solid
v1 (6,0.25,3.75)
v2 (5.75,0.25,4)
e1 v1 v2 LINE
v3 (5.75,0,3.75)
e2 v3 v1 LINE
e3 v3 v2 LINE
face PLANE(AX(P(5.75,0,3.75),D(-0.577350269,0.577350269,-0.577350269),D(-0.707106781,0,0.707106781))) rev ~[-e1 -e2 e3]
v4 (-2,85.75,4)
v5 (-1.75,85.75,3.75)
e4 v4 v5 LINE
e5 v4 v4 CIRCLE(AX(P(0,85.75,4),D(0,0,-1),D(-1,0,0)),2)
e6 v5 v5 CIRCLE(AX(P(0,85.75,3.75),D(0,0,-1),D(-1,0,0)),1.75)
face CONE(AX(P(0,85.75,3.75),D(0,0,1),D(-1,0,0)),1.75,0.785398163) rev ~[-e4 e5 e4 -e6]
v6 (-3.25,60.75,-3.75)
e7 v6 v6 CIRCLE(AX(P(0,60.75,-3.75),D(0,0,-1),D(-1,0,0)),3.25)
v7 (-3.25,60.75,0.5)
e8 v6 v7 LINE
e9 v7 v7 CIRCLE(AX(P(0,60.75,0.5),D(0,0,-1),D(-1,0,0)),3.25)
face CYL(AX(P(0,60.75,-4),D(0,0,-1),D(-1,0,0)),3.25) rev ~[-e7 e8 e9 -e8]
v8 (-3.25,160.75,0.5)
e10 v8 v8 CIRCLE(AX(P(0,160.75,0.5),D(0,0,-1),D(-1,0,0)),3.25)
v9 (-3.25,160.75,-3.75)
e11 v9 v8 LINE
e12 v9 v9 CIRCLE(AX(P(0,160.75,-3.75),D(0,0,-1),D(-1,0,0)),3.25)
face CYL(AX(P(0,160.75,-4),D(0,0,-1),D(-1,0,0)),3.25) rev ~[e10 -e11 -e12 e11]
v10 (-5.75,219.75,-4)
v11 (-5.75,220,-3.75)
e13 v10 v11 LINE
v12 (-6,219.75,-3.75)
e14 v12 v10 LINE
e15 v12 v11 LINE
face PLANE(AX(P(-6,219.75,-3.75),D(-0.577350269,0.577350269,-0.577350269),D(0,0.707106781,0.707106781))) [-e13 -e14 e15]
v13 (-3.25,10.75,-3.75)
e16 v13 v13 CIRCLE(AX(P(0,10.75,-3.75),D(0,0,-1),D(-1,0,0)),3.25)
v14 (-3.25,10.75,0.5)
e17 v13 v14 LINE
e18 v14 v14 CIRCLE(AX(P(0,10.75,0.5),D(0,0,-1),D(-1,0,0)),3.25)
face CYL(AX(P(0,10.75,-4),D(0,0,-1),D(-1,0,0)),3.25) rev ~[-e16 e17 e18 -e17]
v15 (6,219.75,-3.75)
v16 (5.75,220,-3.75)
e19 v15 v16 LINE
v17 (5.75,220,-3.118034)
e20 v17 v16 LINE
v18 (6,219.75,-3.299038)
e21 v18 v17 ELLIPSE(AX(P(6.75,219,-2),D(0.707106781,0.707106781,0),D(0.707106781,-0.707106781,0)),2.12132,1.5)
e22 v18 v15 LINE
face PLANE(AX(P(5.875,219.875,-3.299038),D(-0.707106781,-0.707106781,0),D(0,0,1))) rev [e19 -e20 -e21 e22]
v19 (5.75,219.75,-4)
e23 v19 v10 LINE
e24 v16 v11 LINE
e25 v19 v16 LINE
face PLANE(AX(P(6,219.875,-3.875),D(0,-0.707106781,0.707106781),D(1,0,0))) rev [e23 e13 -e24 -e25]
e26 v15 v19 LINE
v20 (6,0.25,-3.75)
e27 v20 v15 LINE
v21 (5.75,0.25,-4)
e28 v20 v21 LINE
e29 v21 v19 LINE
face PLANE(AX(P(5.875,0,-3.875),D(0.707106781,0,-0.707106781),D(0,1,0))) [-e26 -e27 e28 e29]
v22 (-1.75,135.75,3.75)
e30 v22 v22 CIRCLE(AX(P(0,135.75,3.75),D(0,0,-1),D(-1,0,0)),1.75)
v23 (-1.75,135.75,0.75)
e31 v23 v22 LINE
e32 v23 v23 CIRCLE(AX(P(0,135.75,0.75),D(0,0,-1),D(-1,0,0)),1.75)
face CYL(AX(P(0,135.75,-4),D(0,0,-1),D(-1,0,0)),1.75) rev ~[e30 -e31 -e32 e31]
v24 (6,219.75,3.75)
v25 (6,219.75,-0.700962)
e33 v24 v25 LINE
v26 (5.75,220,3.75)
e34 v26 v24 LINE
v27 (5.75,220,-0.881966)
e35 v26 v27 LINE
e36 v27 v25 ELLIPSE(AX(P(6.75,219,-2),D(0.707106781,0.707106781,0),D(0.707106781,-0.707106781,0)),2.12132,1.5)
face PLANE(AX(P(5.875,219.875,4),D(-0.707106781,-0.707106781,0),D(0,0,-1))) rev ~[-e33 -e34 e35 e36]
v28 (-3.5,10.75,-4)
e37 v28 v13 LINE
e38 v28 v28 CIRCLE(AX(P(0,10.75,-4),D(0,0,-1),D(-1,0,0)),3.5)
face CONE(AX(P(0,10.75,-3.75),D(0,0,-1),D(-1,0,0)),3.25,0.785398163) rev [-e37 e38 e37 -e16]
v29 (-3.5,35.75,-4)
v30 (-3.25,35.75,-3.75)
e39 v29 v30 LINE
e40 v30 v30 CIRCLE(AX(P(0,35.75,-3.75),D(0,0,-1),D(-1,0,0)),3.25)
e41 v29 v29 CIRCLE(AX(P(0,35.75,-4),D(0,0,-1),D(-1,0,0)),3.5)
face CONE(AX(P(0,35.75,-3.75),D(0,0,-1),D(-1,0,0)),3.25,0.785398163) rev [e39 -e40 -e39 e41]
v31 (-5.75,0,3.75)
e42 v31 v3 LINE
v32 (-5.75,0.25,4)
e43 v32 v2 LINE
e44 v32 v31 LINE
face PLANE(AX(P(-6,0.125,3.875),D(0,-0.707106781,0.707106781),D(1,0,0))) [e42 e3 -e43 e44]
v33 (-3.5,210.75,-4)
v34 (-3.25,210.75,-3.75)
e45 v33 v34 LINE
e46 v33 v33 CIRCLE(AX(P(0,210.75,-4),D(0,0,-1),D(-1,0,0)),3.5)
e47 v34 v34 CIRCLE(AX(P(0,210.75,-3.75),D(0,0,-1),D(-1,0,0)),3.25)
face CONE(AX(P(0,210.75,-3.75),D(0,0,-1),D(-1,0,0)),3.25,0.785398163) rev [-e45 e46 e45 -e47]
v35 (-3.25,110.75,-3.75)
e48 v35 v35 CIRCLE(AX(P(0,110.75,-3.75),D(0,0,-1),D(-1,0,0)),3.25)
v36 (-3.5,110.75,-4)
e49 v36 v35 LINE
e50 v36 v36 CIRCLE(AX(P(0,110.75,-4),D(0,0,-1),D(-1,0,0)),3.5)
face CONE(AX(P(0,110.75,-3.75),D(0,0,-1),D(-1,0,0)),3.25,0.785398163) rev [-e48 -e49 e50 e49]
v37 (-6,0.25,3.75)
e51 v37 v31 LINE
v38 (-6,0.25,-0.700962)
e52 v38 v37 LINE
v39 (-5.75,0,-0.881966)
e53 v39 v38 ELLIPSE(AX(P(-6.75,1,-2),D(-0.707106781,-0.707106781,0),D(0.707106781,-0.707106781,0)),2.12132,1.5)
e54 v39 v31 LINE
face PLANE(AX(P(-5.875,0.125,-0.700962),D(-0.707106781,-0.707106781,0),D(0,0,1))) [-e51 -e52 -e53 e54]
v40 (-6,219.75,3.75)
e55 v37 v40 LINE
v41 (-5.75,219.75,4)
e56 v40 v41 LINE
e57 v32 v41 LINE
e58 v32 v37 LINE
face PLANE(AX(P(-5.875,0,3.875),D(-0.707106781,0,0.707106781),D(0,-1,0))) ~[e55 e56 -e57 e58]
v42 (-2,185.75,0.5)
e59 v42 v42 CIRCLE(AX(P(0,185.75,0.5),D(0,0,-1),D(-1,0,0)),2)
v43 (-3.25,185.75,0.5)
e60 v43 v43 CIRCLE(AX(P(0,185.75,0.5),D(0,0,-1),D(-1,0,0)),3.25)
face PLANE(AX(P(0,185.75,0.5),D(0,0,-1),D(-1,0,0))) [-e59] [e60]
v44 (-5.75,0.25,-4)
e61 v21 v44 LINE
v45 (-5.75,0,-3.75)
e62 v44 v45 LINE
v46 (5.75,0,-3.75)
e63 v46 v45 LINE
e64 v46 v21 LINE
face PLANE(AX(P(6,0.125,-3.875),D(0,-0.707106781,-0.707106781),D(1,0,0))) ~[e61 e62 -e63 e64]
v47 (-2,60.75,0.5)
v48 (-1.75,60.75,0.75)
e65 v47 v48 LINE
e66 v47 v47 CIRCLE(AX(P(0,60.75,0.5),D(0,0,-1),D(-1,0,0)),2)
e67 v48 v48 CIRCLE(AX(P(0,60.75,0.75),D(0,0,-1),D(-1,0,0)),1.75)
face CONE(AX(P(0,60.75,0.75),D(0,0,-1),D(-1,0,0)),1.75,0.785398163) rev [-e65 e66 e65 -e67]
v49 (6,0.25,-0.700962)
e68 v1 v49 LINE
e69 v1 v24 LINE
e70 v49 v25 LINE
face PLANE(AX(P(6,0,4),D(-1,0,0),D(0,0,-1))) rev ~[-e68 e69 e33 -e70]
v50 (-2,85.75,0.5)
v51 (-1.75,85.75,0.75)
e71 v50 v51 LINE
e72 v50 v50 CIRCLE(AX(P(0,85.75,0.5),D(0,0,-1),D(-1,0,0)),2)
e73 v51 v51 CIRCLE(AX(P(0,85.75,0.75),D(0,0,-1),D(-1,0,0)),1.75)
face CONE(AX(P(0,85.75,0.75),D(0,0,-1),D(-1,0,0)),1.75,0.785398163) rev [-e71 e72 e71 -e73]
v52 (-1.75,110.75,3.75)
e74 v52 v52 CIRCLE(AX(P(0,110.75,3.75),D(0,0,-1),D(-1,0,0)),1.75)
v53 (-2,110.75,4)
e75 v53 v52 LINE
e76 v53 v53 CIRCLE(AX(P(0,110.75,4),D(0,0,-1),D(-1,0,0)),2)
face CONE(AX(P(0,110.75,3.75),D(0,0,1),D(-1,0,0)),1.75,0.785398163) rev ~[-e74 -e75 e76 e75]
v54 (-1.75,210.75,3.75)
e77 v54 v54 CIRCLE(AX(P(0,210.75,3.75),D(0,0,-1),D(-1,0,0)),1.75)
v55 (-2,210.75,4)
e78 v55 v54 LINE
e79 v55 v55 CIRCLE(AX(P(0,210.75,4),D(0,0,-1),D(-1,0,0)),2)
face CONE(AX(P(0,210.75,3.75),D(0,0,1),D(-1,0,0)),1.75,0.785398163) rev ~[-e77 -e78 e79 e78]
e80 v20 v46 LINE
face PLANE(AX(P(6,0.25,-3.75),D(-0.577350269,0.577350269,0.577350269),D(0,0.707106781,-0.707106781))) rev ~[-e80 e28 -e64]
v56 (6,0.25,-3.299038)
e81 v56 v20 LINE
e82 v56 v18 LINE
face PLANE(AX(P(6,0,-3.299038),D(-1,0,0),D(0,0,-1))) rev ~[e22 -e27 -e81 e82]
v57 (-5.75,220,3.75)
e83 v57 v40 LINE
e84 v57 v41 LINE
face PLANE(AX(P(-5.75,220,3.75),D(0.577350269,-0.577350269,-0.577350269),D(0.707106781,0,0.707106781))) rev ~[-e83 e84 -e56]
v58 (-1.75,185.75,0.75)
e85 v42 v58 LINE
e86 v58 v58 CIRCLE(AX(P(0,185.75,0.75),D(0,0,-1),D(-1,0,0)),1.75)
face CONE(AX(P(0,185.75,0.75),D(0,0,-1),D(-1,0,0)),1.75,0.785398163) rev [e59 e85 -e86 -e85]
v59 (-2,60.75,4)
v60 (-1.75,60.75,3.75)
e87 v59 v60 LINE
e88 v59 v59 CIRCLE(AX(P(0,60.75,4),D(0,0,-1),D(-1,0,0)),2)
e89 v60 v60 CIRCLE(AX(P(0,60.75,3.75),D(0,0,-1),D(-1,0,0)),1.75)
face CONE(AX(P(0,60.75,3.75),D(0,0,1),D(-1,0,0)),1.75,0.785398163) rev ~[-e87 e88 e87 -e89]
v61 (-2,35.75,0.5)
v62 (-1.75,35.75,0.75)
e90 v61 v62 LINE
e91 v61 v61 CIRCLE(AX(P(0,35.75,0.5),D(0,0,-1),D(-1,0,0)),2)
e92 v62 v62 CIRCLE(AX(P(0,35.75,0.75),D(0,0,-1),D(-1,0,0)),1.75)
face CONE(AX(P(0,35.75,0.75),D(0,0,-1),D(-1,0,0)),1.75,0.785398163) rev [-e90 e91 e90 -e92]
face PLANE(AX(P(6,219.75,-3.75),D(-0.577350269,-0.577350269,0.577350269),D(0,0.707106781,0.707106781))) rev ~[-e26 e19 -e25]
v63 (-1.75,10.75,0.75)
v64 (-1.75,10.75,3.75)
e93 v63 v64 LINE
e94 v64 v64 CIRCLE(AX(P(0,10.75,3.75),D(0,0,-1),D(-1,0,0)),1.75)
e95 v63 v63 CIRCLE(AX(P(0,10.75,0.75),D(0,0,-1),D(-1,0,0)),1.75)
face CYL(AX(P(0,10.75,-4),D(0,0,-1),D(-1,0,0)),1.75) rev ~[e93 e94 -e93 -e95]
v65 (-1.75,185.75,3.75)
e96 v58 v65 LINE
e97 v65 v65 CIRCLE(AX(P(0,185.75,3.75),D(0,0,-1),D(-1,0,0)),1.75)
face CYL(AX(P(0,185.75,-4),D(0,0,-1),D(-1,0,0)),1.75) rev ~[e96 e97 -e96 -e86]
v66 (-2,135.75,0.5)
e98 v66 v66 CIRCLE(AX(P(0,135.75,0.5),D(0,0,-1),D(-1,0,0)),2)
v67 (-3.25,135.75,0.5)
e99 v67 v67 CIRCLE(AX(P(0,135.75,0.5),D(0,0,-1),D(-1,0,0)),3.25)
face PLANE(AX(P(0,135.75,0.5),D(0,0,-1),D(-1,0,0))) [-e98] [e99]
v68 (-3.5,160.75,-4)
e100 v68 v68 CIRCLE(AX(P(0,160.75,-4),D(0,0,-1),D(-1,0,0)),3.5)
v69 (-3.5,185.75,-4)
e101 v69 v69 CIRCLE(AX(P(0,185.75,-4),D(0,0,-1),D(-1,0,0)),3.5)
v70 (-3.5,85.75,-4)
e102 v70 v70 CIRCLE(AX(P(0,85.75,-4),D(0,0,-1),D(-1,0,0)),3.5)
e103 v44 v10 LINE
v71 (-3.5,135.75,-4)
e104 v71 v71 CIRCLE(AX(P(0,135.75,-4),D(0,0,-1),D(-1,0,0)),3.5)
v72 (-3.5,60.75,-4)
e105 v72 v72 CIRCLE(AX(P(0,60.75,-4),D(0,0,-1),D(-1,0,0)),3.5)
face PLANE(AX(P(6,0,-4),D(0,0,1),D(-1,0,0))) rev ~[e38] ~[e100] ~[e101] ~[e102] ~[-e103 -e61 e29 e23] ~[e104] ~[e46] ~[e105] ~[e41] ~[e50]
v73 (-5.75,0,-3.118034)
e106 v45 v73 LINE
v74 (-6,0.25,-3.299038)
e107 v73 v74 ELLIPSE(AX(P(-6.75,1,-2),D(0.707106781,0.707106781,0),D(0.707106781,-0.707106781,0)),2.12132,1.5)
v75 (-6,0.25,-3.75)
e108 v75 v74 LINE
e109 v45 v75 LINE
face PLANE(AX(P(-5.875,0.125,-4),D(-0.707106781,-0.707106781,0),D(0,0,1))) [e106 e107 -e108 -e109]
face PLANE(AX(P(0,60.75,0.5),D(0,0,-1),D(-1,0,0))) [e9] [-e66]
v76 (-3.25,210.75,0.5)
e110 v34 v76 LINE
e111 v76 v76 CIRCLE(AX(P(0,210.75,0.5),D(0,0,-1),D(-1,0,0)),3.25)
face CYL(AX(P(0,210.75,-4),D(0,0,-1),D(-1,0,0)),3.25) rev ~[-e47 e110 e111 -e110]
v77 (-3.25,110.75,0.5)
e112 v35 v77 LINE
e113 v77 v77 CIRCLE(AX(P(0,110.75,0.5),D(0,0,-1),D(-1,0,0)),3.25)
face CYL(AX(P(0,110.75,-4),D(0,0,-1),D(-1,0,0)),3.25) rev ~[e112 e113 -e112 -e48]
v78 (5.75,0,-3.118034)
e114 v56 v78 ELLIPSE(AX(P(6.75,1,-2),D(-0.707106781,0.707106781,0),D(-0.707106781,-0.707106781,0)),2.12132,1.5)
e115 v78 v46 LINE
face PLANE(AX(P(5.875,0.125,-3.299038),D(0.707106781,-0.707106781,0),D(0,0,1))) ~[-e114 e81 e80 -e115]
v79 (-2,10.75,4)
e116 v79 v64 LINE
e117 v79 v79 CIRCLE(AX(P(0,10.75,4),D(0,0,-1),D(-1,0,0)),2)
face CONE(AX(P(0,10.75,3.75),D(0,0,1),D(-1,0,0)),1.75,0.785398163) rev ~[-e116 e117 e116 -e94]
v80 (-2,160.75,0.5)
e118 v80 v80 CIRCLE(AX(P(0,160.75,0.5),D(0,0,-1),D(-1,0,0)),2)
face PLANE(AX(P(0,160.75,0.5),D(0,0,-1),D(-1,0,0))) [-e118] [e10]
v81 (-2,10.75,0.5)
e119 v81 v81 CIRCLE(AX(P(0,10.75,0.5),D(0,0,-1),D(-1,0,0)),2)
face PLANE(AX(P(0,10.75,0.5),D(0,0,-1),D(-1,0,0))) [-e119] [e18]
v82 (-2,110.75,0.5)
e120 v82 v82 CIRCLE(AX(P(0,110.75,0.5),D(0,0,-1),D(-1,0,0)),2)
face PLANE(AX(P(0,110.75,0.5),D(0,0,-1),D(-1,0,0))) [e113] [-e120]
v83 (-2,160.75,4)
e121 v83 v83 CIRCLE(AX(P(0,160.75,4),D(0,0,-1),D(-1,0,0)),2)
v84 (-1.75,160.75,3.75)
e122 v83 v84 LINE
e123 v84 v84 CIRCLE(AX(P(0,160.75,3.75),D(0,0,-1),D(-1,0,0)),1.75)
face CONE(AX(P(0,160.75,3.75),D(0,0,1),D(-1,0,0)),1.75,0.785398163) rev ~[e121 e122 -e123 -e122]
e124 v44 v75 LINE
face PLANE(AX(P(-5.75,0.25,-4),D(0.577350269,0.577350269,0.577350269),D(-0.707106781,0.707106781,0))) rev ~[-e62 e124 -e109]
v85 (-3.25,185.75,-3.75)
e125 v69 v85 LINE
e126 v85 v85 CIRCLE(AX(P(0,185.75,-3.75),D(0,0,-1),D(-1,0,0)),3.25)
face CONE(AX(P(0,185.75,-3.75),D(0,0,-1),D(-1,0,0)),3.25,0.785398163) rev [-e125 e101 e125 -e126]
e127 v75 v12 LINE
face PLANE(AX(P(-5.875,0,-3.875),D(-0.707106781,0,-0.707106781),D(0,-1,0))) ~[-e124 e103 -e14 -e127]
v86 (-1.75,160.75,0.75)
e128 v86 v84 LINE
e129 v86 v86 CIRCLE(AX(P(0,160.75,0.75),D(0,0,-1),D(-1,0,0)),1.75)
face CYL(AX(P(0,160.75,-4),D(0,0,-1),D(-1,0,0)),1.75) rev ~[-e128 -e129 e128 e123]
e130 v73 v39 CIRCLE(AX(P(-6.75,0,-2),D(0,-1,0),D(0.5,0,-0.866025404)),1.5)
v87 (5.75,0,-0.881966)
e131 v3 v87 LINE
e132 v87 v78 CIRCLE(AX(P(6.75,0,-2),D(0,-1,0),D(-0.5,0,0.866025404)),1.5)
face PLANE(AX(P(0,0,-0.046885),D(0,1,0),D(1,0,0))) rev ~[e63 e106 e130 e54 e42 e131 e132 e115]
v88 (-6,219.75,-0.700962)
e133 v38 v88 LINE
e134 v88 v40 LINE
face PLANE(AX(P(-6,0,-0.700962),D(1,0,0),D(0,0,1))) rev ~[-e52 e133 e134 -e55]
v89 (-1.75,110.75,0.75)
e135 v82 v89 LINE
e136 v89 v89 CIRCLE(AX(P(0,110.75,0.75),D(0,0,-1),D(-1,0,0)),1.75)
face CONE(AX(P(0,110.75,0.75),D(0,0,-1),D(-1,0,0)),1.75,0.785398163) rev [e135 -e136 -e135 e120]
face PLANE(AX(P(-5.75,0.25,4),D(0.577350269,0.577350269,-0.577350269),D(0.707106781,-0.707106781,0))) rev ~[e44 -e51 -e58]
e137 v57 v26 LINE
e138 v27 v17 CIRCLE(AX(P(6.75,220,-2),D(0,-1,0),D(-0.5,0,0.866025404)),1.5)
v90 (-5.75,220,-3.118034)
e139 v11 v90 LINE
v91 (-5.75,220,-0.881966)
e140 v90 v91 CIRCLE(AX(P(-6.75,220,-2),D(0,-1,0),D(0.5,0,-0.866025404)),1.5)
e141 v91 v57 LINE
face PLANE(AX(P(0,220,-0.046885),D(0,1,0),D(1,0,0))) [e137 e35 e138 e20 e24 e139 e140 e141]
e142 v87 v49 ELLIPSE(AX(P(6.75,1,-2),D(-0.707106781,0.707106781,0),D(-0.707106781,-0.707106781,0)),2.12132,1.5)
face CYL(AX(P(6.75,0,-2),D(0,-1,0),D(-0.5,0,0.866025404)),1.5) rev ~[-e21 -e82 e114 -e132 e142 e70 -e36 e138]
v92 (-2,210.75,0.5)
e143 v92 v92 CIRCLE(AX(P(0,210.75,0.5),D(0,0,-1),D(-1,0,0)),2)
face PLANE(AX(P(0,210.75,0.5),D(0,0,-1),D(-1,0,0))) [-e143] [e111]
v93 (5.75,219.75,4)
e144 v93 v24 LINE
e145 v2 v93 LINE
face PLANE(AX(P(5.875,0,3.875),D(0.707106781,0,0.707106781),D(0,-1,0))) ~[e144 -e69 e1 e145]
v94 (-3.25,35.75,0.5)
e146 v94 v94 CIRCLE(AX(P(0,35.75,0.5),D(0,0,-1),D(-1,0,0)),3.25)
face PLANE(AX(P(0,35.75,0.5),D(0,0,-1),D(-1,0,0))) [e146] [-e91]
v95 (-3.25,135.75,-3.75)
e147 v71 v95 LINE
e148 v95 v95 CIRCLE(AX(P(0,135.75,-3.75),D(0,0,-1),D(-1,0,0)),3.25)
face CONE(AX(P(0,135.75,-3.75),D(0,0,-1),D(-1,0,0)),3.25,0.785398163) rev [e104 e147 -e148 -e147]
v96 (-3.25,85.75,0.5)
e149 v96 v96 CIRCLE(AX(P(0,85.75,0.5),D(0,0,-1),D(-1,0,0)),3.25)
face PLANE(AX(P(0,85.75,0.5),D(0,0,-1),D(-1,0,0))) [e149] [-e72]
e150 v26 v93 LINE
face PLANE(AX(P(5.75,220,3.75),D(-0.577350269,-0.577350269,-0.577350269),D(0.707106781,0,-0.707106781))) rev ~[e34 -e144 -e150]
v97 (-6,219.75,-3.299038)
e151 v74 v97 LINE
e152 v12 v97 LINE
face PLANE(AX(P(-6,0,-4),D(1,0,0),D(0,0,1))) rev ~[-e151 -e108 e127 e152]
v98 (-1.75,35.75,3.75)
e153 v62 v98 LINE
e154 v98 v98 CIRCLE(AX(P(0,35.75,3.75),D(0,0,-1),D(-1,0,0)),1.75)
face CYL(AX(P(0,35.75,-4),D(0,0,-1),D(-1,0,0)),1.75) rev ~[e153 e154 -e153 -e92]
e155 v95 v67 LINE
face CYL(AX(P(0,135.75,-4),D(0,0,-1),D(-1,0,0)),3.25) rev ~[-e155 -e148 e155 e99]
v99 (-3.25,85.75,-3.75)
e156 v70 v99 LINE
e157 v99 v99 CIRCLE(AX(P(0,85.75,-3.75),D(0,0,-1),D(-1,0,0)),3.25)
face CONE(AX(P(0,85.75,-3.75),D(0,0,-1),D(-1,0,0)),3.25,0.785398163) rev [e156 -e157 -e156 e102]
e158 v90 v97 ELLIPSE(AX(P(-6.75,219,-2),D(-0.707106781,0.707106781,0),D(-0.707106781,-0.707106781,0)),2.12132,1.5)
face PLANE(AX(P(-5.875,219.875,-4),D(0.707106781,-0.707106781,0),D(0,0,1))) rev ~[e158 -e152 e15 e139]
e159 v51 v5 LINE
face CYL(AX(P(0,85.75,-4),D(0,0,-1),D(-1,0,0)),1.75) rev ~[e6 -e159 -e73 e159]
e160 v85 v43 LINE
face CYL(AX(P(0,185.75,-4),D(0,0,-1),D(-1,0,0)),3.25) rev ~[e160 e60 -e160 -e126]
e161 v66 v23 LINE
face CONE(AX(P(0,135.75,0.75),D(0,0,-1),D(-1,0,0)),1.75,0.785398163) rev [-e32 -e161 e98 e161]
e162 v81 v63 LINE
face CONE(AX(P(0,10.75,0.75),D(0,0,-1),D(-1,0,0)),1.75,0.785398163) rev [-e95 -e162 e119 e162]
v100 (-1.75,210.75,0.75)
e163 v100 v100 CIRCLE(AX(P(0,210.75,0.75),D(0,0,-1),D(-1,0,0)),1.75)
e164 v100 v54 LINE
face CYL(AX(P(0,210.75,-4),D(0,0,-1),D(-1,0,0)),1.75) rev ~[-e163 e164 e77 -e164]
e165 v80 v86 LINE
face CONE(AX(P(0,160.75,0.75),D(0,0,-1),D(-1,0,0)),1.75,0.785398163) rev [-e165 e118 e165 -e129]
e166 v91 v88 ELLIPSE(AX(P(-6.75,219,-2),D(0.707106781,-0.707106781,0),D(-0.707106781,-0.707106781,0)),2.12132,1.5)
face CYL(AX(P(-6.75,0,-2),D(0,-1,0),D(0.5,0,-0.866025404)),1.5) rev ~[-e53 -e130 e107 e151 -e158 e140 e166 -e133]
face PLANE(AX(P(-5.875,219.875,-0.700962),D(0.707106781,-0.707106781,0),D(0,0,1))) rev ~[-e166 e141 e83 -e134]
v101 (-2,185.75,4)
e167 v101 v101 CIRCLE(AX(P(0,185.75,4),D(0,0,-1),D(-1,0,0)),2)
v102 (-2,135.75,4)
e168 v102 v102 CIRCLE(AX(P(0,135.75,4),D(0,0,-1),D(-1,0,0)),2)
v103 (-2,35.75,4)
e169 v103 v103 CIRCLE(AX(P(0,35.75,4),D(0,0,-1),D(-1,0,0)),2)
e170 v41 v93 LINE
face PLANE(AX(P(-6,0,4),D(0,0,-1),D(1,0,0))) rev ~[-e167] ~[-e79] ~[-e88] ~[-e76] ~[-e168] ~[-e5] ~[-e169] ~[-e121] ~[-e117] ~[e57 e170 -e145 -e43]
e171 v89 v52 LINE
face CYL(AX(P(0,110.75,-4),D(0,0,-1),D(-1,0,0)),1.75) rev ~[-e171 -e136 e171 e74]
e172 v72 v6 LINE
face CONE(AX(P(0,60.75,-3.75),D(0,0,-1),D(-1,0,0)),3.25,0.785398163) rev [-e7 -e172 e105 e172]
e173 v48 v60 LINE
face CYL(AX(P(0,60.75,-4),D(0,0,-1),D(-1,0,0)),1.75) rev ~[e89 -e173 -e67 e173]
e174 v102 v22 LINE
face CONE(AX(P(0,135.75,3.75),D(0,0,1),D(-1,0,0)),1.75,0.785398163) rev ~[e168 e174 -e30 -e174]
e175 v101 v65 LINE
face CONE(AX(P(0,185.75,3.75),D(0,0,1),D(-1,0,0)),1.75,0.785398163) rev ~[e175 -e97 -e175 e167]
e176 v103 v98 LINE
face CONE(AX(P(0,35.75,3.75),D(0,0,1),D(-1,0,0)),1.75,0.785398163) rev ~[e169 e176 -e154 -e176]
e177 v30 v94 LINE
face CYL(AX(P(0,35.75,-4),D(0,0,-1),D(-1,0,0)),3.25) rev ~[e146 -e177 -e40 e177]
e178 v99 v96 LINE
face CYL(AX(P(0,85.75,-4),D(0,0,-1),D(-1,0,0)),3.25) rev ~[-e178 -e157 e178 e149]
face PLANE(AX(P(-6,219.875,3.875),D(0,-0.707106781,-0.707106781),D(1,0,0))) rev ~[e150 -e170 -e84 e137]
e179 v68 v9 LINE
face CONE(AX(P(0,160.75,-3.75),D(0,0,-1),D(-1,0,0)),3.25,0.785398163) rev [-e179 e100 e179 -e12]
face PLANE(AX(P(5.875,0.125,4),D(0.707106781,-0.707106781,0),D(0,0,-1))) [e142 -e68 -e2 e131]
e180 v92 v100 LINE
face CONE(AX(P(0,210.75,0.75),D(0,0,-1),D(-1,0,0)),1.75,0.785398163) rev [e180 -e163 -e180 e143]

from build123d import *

# Parameters (mm, degrees)
BOSS_EXTRUDE1_DEPTH = 220
SKETCH3_R           = 1.75
CUT_EXTRUDE3_DEPTH  = 8.5
SKETCH3_6_R         = 3.25
SKETCH3_6_R_2       = 1.75
CUT_EXTRUDE4_DEPTH  = 4.5
CHAMFER3_SIZE       = 0.25


with BuildPart() as part:
    # Sketch1 → Boss-Extrude1 (new body)
    with BuildSketch(Plane(origin=(0, 0, 0), x_dir=(1, 0, 0), z_dir=(0, 1, 0))):
        with BuildLine():
            Line((6, 4), (-6, 4))
            Line((-6, 4), (-6, 3.299038106))
            ThreePointArc((-6, 3.299038106), (-5.25, 2), (-6, 0.700961894))
            Line((-6, 0.700961894), (-6, -4))
            Line((-6, -4), (6, -4))
            Line((6, -4), (6, 0.700961894))
            ThreePointArc((6, 0.700961894), (5.25, 2), (6, 3.299038106))
            Line((6, 3.299038106), (6, 4))
        make_face()
    extrude(amount=BOSS_EXTRUDE1_DEPTH)

    # Sketch3 → Cut-Extrude3 (cut)
    with BuildSketch(Plane(origin=(0, 0, -4), x_dir=(-1, 0, 0), z_dir=(0, 0, -1))):
        with Locations((0, 335.75)):
            Circle(SKETCH3_R)
        with Locations((0, 310.75)):
            Circle(SKETCH3_R)
        with Locations((0, 285.75)):
            Circle(SKETCH3_R)
        with Locations((0, 260.75)):
            Circle(SKETCH3_R)
        with Locations((0, 235.75)):
            Circle(SKETCH3_R)
        with Locations((0, 210.75)):
            Circle(SKETCH3_R)
        with Locations((0, 185.75)):
            Circle(SKETCH3_R)
        with Locations((0, 160.75)):
            Circle(SKETCH3_R)
        with Locations((0, 110.75)):
            Circle(SKETCH3_R)
        with Locations((0, 85.75)):
            Circle(SKETCH3_R)
        with Locations((0, 60.75)):
            Circle(SKETCH3_R)
        with Locations((0, 35.75)):
            Circle(SKETCH3_R)
        with Locations((0, 135.75)):
            Circle(SKETCH3_R)
        with Locations((0, 10.75)):
            Circle(SKETCH3_R)
    extrude(amount=-CUT_EXTRUDE3_DEPTH, mode=Mode.SUBTRACT)

    # Sketch3<6> → Cut-Extrude4 (cut)
    # profile 1 of 14: a face of its own
    with BuildSketch(Plane(origin=(0, 0, -4), x_dir=(-1, 0, 0), z_dir=(0, 0, -1))):
        with Locations((0, 10.75)):
            Circle(SKETCH3_6_R)
        with Locations((0, 10.75)):
            Circle(SKETCH3_6_R_2, mode=Mode.SUBTRACT)
    # profile 2 of 14: a face of its own
    with BuildSketch(Plane(origin=(0, 0, -4), x_dir=(-1, 0, 0), z_dir=(0, 0, -1))):
        with Locations((0, 35.75)):
            Circle(SKETCH3_6_R)
        with Locations((0, 35.75)):
            Circle(SKETCH3_6_R_2, mode=Mode.SUBTRACT)
    # profile 3 of 14: a face of its own
    with BuildSketch(Plane(origin=(0, 0, -4), x_dir=(-1, 0, 0), z_dir=(0, 0, -1))):
        with Locations((0, 60.75)):
            Circle(SKETCH3_6_R)
        with Locations((0, 60.75)):
            Circle(SKETCH3_6_R_2, mode=Mode.SUBTRACT)
    # profile 4 of 14: a face of its own
    with BuildSketch(Plane(origin=(0, 0, -4), x_dir=(-1, 0, 0), z_dir=(0, 0, -1))):
        with Locations((0, 85.75)):
            Circle(SKETCH3_6_R)
        with Locations((0, 85.75)):
            Circle(SKETCH3_6_R_2, mode=Mode.SUBTRACT)
    # profile 5 of 14: a face of its own
    with BuildSketch(Plane(origin=(0, 0, -4), x_dir=(-1, 0, 0), z_dir=(0, 0, -1))):
        with Locations((0, 110.75)):
            Circle(SKETCH3_6_R)
        with Locations((0, 110.75)):
            Circle(SKETCH3_6_R_2, mode=Mode.SUBTRACT)
    # profile 6 of 14: a face of its own
    with BuildSketch(Plane(origin=(0, 0, -4), x_dir=(-1, 0, 0), z_dir=(0, 0, -1))):
        with Locations((0, 135.75)):
            Circle(SKETCH3_6_R)
        with Locations((0, 135.75)):
            Circle(SKETCH3_6_R_2, mode=Mode.SUBTRACT)
    # profile 7 of 14: a face of its own
    with BuildSketch(Plane(origin=(0, 0, -4), x_dir=(-1, 0, 0), z_dir=(0, 0, -1))):
        with Locations((0, 160.75)):
            Circle(SKETCH3_6_R)
        with Locations((0, 160.75)):
            Circle(SKETCH3_6_R_2, mode=Mode.SUBTRACT)
    # profile 8 of 14: a face of its own
    with BuildSketch(Plane(origin=(0, 0, -4), x_dir=(-1, 0, 0), z_dir=(0, 0, -1))):
        with Locations((0, 185.75)):
            Circle(SKETCH3_6_R)
        with Locations((0, 185.75)):
            Circle(SKETCH3_6_R_2, mode=Mode.SUBTRACT)
    # profile 9 of 14: a face of its own
    with BuildSketch(Plane(origin=(0, 0, -4), x_dir=(-1, 0, 0), z_dir=(0, 0, -1))):
        with Locations((0, 210.75)):
            Circle(SKETCH3_6_R)
        with Locations((0, 210.75)):
            Circle(SKETCH3_6_R_2, mode=Mode.SUBTRACT)
    # profile 10 of 14: a face of its own
    with BuildSketch(Plane(origin=(0, 0, -4), x_dir=(-1, 0, 0), z_dir=(0, 0, -1))):
        with Locations((0, 235.75)):
            Circle(SKETCH3_6_R)
        with Locations((0, 235.75)):
            Circle(SKETCH3_6_R_2, mode=Mode.SUBTRACT)
    # profile 11 of 14: a face of its own
    with BuildSketch(Plane(origin=(0, 0, -4), x_dir=(-1, 0, 0), z_dir=(0, 0, -1))):
        with Locations((0, 260.75)):
            Circle(SKETCH3_6_R)
        with Locations((0, 260.75)):
            Circle(SKETCH3_6_R_2, mode=Mode.SUBTRACT)
    # profile 12 of 14: a face of its own
    with BuildSketch(Plane(origin=(0, 0, -4), x_dir=(-1, 0, 0), z_dir=(0, 0, -1))):
        with Locations((0, 285.75)):
            Circle(SKETCH3_6_R)
        with Locations((0, 285.75)):
            Circle(SKETCH3_6_R_2, mode=Mode.SUBTRACT)
    # profile 13 of 14: a face of its own
    with BuildSketch(Plane(origin=(0, 0, -4), x_dir=(-1, 0, 0), z_dir=(0, 0, -1))):
        with Locations((0, 310.75)):
            Circle(SKETCH3_6_R)
        with Locations((0, 310.75)):
            Circle(SKETCH3_6_R_2, mode=Mode.SUBTRACT)
    # profile 14 of 14: a face of its own
    with BuildSketch(Plane(origin=(0, 0, -4), x_dir=(-1, 0, 0), z_dir=(0, 0, -1))):
        with Locations((0, 335.75)):
            Circle(SKETCH3_6_R)
        with Locations((0, 335.75)):
            Circle(SKETCH3_6_R_2, mode=Mode.SUBTRACT)
    extrude(amount=-CUT_EXTRUDE4_DEPTH, mode=Mode.SUBTRACT)

    # Chamfer3
    chamfer3_edges = [part.edges().sort_by_distance(p)[0] for p in [
        (-6, 0, 1.649519053),
        (1.75, 85.75, 0.5),
        (3.25, 85.75, -4),
        (1.75, 110.75, 0.5),
        (3.25, 110.75, -4),
        (1.75, 135.75, 0.5),
        (3.25, 135.75, -4),
        (-6, 0, -3.649519053),
        (1.75, 160.75, 0.5),
        (3.25, 160.75, -4),
        (1.75, 185.75, 0.5),
        (3.25, 185.75, -4),
        (0, 0, -4),
        (1.75, 210.75, 0.5),
        (3.25, 210.75, -4),
        (6, 0, -3.649519053),
        (0, 220, -4),
        (6, 110, 4),
        (-6, 110, 4),
        (-6, 110, -4),
        (6, 110, -4),
        (-6, 220, -3.649519053),
        (-6, 220, 1.649519053),
        (0, 220, 4),
        (6, 220, 1.649519053),
        (1.75, 210.75, 4),
        (1.75, 185.75, 4),
        (1.75, 60.75, 4),
        (1.75, 35.75, 4),
        (1.75, 135.75, 4),
        (1.75, 10.75, 4),
        (1.75, 85.75, 4),
        (1.75, 110.75, 4),
        (1.75, 160.75, 4),
        (1.75, 10.75, 0.5),
        (3.25, 10.75, -4),
        (6, 220, -3.649519053),
        (6, 0, 1.649519053),
        (0, 0, 4),
        (1.75, 35.75, 0.5),
        (3.25, 35.75, -4),
        (1.75, 60.75, 0.5),
        (3.25, 60.75, -4),
    ]]
    chamfer(chamfer3_edges, length=CHAMFER3_SIZE)


solid = part.part
